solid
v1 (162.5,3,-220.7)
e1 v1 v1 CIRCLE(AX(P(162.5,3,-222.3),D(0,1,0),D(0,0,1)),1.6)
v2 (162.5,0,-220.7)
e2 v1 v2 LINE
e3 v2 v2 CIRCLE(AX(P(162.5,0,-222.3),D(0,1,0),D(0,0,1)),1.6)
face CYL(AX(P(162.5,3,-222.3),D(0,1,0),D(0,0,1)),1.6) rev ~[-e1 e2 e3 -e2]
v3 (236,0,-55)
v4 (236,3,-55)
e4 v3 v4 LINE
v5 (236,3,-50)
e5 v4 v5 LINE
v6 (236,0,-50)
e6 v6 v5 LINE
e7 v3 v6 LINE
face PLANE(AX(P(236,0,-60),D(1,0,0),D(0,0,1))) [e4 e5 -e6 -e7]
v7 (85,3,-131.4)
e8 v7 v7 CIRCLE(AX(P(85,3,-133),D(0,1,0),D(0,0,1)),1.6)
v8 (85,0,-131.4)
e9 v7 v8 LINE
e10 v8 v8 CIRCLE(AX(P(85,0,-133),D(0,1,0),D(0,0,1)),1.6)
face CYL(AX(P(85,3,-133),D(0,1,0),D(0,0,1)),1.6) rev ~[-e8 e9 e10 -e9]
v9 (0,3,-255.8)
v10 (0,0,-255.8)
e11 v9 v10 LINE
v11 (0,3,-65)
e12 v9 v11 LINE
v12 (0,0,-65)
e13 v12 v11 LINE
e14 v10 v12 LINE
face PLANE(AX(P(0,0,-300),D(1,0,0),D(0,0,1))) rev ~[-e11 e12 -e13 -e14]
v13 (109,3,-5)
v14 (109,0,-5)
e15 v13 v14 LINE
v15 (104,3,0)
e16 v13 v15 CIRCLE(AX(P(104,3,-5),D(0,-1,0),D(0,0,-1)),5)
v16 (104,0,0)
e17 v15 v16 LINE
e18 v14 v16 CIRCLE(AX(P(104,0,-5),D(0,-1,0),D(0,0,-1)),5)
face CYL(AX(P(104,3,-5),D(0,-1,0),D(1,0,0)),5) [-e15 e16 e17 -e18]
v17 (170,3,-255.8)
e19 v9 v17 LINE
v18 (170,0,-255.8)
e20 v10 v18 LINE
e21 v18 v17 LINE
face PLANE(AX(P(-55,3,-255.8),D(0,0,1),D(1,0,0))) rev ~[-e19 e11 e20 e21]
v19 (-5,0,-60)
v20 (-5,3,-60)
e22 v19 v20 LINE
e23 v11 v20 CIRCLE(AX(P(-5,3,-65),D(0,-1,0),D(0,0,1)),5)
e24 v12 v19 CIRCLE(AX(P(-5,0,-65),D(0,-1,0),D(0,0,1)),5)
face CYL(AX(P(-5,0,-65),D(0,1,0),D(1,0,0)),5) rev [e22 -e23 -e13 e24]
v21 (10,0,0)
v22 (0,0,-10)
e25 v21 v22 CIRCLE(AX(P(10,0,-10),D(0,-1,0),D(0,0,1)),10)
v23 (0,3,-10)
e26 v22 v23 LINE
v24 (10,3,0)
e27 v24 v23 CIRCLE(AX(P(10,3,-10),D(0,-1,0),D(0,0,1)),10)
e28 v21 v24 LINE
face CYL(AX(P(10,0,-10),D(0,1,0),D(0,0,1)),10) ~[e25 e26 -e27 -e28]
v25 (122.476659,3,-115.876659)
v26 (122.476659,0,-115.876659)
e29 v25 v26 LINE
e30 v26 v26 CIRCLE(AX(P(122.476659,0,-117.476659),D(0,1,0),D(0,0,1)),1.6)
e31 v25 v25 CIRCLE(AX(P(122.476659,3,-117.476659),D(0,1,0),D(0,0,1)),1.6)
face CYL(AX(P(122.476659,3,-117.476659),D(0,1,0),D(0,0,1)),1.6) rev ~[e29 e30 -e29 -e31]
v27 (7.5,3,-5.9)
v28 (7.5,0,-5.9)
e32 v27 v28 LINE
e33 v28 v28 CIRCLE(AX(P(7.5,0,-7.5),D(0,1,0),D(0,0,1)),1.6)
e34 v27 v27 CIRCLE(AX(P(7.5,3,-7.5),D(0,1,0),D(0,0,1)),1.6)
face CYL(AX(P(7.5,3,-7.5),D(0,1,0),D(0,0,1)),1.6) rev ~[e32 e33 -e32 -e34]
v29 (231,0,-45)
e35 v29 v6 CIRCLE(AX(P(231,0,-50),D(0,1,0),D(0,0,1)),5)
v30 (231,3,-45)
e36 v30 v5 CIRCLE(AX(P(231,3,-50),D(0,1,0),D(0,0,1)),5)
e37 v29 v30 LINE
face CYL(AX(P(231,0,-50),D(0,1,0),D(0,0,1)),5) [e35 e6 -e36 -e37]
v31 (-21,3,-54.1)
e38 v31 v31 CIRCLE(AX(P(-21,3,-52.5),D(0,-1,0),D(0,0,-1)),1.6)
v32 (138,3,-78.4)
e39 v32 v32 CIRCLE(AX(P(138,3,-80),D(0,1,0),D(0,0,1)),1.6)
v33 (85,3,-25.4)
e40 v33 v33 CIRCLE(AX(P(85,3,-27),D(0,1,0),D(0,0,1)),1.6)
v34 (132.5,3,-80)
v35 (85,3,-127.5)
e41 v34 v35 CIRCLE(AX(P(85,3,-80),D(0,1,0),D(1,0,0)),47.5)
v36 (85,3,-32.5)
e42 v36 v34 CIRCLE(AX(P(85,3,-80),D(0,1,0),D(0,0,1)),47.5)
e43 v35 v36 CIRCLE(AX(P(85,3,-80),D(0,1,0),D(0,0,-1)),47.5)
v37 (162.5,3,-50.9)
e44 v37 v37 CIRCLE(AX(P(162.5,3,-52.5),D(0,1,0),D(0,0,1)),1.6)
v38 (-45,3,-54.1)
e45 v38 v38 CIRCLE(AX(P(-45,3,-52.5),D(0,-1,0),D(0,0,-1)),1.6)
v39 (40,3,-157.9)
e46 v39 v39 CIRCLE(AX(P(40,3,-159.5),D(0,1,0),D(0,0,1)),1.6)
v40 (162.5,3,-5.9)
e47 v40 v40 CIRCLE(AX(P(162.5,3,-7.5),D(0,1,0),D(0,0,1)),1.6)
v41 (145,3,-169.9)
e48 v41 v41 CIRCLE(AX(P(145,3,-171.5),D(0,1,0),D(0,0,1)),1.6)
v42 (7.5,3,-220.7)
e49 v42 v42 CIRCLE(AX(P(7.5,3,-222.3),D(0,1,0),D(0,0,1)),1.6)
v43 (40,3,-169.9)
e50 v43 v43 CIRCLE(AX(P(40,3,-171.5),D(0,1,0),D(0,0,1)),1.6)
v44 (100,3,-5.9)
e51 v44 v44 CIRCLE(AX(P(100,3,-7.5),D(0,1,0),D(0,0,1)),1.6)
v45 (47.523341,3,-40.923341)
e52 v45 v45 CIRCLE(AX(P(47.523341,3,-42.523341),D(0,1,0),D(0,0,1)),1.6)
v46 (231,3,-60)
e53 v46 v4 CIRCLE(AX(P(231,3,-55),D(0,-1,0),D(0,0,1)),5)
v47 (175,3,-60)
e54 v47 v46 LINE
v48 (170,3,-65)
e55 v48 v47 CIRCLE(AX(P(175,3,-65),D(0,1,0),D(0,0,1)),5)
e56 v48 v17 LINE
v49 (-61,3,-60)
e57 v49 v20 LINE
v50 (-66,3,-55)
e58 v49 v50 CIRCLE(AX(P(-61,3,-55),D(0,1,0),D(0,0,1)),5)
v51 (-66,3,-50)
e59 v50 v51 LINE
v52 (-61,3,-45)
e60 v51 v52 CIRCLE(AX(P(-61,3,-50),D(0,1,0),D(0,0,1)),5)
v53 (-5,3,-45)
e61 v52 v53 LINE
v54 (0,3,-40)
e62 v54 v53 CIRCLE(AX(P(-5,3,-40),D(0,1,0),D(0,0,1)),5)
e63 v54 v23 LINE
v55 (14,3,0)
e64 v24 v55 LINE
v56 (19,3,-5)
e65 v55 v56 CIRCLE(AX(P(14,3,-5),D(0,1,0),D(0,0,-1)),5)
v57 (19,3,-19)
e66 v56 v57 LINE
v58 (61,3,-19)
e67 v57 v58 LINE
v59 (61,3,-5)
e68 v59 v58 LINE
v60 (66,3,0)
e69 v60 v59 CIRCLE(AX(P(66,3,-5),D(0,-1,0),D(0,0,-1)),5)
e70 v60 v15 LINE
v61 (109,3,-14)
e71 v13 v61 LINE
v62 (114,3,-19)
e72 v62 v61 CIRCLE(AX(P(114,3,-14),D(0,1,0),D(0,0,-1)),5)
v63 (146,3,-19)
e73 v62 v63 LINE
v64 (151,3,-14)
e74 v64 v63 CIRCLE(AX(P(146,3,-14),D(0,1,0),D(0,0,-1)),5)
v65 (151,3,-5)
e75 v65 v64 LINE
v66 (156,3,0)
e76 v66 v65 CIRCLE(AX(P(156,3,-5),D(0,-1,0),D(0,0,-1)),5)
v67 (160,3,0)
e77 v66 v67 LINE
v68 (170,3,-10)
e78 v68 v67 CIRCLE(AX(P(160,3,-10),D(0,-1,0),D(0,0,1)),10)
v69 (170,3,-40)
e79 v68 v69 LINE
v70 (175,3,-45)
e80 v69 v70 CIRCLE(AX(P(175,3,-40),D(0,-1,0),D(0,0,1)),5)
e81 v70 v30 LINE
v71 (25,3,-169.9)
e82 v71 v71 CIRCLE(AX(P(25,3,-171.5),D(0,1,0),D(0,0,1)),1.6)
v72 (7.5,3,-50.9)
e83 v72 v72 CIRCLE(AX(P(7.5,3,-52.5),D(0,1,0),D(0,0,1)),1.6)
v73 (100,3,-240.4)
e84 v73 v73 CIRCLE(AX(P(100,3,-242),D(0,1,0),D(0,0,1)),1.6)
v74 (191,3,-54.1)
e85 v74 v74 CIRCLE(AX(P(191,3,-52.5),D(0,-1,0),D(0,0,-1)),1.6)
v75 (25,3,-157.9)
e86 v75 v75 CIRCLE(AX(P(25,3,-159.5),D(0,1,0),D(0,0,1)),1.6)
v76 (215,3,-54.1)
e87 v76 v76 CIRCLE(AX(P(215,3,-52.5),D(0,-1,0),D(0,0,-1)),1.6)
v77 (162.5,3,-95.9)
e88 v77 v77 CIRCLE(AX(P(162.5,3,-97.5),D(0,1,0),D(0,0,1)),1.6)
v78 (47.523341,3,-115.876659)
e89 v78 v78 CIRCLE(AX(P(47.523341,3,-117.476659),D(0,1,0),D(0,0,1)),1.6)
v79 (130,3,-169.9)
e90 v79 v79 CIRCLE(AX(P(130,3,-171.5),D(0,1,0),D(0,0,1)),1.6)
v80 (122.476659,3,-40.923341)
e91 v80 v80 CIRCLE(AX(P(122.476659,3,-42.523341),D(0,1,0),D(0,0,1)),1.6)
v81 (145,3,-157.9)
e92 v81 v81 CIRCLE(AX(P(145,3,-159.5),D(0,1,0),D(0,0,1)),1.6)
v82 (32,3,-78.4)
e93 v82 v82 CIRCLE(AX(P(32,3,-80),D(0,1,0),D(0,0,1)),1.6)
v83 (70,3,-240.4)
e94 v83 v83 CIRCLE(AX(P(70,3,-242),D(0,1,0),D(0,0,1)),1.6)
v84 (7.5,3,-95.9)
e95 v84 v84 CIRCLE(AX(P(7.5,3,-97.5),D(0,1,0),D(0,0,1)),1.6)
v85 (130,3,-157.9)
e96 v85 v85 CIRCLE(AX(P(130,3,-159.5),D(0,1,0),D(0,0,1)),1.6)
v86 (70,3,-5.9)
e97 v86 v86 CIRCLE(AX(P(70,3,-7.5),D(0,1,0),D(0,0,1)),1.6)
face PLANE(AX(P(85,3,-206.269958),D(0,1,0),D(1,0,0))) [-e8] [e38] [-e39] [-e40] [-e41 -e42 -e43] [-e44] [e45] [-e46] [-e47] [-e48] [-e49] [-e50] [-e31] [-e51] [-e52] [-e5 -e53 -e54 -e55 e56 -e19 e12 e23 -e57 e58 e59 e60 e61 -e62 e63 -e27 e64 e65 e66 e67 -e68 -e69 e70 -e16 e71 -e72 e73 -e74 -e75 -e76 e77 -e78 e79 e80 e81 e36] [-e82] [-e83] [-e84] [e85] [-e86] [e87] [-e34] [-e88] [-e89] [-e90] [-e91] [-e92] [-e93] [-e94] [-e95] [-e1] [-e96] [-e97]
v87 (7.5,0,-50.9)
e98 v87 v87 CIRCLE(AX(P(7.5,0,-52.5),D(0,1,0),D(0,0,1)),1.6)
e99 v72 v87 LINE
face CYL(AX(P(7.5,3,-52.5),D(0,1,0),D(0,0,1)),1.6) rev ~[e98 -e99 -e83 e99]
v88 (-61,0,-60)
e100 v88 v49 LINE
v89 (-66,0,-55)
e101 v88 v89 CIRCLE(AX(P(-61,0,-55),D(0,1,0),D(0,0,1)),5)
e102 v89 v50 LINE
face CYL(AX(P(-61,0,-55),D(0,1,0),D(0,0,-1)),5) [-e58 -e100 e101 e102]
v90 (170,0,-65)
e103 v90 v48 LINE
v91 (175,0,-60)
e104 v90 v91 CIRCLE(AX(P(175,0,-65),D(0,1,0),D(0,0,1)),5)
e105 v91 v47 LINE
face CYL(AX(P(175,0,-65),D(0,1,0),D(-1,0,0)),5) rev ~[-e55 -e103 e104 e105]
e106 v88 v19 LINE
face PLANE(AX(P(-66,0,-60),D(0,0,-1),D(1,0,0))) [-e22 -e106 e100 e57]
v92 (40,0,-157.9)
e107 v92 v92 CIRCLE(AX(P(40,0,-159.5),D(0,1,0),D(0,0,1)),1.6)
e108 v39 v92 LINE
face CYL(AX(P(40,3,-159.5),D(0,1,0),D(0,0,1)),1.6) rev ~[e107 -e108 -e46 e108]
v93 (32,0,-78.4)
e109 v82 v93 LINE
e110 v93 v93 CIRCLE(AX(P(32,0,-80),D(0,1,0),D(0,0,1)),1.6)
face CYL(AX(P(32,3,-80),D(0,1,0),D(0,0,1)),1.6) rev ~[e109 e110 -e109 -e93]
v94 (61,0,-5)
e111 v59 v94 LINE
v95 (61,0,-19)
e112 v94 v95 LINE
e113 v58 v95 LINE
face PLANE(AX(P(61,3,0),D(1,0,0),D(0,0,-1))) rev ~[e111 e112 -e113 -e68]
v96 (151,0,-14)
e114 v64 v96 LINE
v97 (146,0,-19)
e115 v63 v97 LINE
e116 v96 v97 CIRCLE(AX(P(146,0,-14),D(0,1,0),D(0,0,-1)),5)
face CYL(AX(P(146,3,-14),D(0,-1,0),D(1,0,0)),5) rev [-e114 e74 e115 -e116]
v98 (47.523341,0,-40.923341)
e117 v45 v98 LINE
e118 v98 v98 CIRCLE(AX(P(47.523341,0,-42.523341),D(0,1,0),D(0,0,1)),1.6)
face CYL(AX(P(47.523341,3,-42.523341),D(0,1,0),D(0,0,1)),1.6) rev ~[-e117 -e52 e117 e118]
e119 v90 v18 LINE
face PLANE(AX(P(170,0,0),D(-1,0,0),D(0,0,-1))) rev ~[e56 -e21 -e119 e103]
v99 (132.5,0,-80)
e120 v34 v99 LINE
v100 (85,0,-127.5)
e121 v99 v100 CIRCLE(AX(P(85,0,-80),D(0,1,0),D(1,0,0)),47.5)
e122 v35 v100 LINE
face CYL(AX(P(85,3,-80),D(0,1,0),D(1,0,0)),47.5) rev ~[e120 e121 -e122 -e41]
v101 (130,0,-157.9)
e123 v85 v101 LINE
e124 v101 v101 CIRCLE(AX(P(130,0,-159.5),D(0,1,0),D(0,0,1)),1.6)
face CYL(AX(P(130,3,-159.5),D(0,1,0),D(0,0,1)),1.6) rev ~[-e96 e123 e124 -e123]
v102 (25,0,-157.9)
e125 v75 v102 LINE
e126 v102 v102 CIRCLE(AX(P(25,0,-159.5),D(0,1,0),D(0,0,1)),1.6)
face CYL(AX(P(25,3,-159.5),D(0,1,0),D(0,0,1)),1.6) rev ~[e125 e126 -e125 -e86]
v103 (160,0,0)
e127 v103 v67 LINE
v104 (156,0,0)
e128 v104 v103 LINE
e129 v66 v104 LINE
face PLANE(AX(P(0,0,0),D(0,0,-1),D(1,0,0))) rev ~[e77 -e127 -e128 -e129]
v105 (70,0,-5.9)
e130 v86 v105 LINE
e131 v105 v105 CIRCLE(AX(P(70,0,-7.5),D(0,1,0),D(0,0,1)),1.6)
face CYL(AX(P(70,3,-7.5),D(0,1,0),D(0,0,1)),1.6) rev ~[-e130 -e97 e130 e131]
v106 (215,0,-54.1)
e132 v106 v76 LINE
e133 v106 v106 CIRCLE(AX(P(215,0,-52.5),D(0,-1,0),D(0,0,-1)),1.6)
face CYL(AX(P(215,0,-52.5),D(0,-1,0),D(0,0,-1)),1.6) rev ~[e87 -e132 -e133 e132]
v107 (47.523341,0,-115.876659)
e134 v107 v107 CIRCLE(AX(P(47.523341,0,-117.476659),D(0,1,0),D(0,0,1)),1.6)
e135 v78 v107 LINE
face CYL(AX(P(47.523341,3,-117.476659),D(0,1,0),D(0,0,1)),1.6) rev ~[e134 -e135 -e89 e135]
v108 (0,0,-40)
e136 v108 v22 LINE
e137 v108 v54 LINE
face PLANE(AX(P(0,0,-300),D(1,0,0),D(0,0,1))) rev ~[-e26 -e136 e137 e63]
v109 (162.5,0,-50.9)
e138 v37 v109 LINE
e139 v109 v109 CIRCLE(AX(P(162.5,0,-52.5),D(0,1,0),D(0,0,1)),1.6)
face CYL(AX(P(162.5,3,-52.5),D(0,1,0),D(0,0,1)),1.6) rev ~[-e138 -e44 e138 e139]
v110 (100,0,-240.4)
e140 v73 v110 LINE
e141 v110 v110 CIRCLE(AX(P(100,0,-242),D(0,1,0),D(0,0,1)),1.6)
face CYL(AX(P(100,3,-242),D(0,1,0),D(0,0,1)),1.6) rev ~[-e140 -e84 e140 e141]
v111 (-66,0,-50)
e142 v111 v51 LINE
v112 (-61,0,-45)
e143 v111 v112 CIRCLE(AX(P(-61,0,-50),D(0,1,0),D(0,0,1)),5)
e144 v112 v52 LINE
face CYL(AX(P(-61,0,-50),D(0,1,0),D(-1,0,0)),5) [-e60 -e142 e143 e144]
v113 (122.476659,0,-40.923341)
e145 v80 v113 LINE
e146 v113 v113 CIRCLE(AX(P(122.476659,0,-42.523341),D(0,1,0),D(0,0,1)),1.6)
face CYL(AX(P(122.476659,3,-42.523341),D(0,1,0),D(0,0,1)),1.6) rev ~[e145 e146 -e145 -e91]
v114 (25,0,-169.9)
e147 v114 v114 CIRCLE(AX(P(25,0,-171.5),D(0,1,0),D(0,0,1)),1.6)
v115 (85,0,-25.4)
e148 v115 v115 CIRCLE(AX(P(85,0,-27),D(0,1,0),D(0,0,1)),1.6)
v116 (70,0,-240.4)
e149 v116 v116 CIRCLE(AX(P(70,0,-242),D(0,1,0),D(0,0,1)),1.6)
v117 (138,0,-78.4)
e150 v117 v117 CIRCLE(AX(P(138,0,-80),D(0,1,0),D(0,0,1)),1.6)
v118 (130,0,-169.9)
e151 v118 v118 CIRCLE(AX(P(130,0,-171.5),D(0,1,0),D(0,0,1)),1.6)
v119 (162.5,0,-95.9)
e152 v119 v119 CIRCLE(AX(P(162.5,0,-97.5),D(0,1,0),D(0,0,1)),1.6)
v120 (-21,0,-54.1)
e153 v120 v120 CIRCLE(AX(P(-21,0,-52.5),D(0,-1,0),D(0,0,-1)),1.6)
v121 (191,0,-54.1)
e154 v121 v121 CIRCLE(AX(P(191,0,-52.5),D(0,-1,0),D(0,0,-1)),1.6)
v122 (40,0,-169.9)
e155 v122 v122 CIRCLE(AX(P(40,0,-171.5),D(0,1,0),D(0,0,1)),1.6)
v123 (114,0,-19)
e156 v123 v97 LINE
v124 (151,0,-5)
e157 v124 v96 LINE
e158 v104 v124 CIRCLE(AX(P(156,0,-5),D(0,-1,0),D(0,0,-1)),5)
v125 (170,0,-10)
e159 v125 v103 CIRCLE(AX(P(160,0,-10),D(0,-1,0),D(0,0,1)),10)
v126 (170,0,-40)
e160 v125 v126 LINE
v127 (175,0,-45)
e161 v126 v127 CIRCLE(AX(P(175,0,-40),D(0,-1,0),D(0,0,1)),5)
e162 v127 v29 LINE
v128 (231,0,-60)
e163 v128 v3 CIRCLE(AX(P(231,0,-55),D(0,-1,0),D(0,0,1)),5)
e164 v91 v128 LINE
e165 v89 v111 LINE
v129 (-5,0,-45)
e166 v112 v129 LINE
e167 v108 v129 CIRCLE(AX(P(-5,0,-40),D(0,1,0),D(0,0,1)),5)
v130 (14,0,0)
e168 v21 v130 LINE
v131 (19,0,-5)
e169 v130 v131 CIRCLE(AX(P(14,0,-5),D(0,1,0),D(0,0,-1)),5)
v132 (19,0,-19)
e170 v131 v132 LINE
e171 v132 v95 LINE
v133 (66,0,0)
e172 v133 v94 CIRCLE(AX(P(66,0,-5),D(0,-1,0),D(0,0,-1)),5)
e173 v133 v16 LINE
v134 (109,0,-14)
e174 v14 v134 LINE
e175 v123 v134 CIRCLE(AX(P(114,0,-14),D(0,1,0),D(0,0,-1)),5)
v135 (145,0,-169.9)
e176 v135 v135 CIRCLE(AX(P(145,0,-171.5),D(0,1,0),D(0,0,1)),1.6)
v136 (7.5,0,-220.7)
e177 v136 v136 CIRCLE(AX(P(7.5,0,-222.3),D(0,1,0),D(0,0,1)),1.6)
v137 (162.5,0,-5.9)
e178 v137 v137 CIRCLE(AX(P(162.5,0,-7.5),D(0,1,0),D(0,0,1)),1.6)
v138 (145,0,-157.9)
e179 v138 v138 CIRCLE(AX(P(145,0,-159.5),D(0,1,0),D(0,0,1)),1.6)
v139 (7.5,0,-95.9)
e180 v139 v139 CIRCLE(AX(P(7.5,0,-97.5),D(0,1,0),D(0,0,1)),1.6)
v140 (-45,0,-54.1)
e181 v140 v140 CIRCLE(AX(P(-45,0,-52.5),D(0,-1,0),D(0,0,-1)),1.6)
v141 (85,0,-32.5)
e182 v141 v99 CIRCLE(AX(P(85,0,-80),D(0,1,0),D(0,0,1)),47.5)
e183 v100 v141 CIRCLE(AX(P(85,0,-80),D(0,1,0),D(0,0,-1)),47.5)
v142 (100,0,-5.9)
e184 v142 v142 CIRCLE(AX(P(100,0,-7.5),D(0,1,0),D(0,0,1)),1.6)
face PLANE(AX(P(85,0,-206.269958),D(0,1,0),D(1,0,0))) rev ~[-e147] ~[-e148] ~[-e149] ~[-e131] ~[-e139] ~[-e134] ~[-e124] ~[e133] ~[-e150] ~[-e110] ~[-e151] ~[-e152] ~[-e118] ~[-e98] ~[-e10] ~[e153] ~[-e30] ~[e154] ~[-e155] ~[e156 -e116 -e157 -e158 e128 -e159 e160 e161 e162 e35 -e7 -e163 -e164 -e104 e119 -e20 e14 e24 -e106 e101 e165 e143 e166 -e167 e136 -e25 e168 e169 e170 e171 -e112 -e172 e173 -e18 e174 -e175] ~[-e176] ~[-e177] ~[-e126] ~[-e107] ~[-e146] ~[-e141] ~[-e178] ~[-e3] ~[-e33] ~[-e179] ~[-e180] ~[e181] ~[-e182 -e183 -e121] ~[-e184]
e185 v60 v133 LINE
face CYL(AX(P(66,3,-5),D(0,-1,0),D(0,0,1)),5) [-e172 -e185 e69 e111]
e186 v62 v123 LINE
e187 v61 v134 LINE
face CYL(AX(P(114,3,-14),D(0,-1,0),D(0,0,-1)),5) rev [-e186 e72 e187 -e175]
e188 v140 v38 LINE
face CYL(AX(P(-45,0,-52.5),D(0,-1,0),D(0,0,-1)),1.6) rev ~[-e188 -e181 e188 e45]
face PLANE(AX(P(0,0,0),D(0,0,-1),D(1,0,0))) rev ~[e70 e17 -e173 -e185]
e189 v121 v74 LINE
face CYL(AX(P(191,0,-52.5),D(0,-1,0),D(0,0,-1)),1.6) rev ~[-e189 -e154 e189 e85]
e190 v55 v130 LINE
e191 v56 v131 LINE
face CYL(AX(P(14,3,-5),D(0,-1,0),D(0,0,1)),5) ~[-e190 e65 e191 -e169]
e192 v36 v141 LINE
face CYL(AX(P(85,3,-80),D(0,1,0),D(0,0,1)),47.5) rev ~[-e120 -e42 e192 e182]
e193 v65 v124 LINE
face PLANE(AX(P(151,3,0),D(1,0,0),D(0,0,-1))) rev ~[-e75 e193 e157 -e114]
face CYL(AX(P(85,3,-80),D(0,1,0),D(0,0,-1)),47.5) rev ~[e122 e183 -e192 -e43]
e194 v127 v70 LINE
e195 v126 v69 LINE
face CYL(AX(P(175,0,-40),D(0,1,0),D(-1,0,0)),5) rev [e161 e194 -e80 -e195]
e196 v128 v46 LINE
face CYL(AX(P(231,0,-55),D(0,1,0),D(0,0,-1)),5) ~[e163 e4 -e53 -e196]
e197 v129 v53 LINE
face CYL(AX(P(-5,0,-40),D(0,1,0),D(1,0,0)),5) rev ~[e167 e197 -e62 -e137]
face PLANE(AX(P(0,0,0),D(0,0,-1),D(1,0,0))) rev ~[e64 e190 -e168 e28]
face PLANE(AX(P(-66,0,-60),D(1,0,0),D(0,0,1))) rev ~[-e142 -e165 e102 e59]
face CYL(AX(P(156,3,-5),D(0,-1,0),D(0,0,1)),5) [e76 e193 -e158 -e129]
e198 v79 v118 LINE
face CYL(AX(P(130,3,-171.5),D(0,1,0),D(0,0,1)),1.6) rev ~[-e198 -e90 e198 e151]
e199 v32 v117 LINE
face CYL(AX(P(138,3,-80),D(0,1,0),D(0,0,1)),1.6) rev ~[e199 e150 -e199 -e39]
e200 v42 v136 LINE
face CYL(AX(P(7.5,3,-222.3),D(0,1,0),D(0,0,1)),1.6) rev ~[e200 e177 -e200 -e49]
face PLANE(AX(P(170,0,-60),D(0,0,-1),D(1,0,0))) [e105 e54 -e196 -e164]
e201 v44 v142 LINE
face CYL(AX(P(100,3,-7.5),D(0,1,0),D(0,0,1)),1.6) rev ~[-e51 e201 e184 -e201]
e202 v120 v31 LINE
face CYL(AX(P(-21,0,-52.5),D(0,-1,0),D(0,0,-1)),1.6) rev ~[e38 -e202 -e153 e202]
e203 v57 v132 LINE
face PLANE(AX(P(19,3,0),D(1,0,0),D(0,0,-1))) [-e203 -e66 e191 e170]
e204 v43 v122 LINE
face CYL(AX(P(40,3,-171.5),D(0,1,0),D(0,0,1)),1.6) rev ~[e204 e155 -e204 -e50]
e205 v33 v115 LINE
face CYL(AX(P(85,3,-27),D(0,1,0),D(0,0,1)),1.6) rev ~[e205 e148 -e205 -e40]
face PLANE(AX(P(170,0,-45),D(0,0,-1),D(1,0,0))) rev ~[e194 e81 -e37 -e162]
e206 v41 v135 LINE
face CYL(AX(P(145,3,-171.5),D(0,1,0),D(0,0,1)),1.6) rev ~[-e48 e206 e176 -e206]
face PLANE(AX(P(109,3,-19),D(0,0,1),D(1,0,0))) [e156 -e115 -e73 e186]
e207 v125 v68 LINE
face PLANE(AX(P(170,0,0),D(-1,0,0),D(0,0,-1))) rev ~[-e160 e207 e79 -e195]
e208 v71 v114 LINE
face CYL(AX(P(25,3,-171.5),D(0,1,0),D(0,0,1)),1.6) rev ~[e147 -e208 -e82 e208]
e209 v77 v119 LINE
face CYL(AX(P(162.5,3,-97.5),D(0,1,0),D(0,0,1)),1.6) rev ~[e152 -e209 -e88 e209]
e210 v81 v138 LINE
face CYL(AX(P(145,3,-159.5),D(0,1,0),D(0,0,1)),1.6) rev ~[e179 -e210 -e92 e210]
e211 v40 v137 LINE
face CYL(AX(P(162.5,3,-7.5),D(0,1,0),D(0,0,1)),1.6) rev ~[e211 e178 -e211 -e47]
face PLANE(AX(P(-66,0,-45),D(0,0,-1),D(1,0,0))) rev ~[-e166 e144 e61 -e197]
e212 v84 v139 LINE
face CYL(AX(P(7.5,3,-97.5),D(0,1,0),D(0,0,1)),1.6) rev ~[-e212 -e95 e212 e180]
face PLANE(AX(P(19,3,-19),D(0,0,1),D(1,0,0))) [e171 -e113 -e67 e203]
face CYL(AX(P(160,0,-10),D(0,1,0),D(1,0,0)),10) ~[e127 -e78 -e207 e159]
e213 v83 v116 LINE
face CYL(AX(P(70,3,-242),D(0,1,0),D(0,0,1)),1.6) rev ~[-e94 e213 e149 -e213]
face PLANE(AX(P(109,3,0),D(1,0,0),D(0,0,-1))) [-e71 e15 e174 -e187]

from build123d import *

# Parameters (mm, degrees)
BOSS_EXTRUDE1_DEPTH = 3
FILLET1_R           = 200
FILLET2_R           = 10
CUT_EXTRUDE2_DEPTH  = 429.345808882
SKETCH3_W           = 42
SKETCH3_H           = 23
SKETCH3_H_2         = 19
CUT_EXTRUDE3_DEPTH  = 429.345808882
SKETCH4_R           = 1.6
CUT_EXTRUDE5_DEPTH  = 429.345808882
SKETCH5_R           = 1.6
CUT_EXTRUDE6_DEPTH  = 429.345808882
SKETCH6_W           = 66
SKETCH6_H           = 15
SKETCH6_R           = 1.6
BOSS_EXTRUDE2_DEPTH = 3
FILLET3_R           = 5
SKETCH7_R           = 1.6
CUT_EXTRUDE7_DEPTH  = 435.224748243
SKETCH9_R           = 1.6
CUT_EXTRUDE8_DEPTH  = 435.224748243
SKETCH10_W          = 280
SKETCH10_H          = 108.680633212
CUT_EXTRUDE9_DEPTH  = 10


with BuildPart() as part:
    # Sketch1 → Boss-Extrude1 (new body)
    with BuildSketch(Plane(origin=(0, 0, 0), x_dir=(1, 0, 0), z_dir=(0, 1, 0))):
        Polygon((0, 0), (170, 0), (170, 300), (225, 300), (225, 367.51288694), (85, 330), (-55, 367.51288694), (-55, 300), (0, 300), align=None)
    extrude(amount=BOSS_EXTRUDE1_DEPTH)

    # Fillet1
    fillet1_edges = [part.edges().sort_by_distance(p)[0] for p in [
        (85, 1.5, -330),
    ]]
    fillet(fillet1_edges, radius=FILLET1_R)

    # Fillet2
    fillet2_edges = [part.edges().sort_by_distance(p)[0] for p in [
        (0, 1.5, -300),
        (-55, 1.5, -300),
        (-55, 1.5, -367.51288694),
        (225, 1.5, -367.51288694),
        (225, 1.5, -300),
        (170, 1.5, -300),
        (170, 1.5, 0),
        (0, 1.5, 0),
    ]]
    fillet(fillet2_edges, radius=FILLET2_R)

    # Sketch2 → Cut-Extrude2 (cut, through all)
    with BuildSketch(Plane(origin=(0, 3, 0), x_dir=(1, 0, 0), z_dir=(0, 1, 0))):
        with BuildLine():
            ThreePointArc((132.5, 80), (118.587572106, 113.587572106), (85, 127.5))
            Line((85, 127.5), (85, 32.5))
            ThreePointArc((85, 32.5), (118.587572106, 46.412427894), (132.5, 80))
        make_face()
        with BuildLine():
            Line((85, 32.5), (85, 127.5))
            ThreePointArc((85, 127.5), (37.5, 80), (85, 32.5))
        make_face()
    extrude(amount=-CUT_EXTRUDE2_DEPTH, mode=Mode.SUBTRACT)

    # Sketch3 → Cut-Extrude3 (cut, through all)
    with BuildSketch(Plane(origin=(0, 3, 0), x_dir=(1, 0, 0), z_dir=(0, 1, 0))):
        with Locations((40, 267.3)):
            Rectangle(SKETCH3_W, SKETCH3_H)
        with Locations((130, 267.3)):
            Rectangle(SKETCH3_W, SKETCH3_H)
        with Locations((40, 9.5)):
            Rectangle(SKETCH3_W, SKETCH3_H_2)
        with Locations((130, 9.5)):
            Rectangle(SKETCH3_W, SKETCH3_H_2)
    extrude(amount=-CUT_EXTRUDE3_DEPTH, mode=Mode.SUBTRACT)

    # Sketch4 → Cut-Extrude5 (cut, through all)
    with BuildSketch(Plane(origin=(0, 3, 0), x_dir=(1, 0, 0), z_dir=(0, 1, 0))):
        with Locations(Location((85, 133, 0), (0, 0, 270))):
            Circle(SKETCH4_R)
        with Locations(Location((122.476659403, 117.476659403, 0), (0, 0, 270))):
            Circle(SKETCH4_R)
        with Locations(Location((138, 80, 0), (0, 0, 270))):
            Circle(SKETCH4_R)
        with Locations(Location((122.476659403, 42.523340597, 0), (0, 0, 270))):
            Circle(SKETCH4_R)
        with Locations(Location((85, 27, 0), (0, 0, 270))):
            Circle(SKETCH4_R)
        with Locations(Location((47.523340597, 42.523340597, 0), (0, 0, 270))):
            Circle(SKETCH4_R)
        with Locations(Location((32, 80, 0), (0, 0, 270))):
            Circle(SKETCH4_R)
        with Locations(Location((47.523340597, 117.476659403, 0), (0, 0, 270))):
            Circle(SKETCH4_R)
    extrude(amount=-CUT_EXTRUDE5_DEPTH, mode=Mode.SUBTRACT)

    # Sketch5 → Cut-Extrude6 (cut, through all)
    with BuildSketch(Plane(origin=(0, 3, 0), x_dir=(1, 0, 0), z_dir=(0, 1, 0))):
        with Locations(Location((7.5, 312, 0), (0, 0, 270))):
            Circle(SKETCH5_R)
        with Locations(Location((7.5, 267.3, 0), (0, 0, 270))):
            Circle(SKETCH5_R)
        with Locations(Location((7.5, 222.3, 0), (0, 0, 270))):
            Circle(SKETCH5_R)
        with Locations(Location((7.5, 97.5, 0), (0, 0, 270))):
            Circle(SKETCH5_R)
        with Locations(Location((7.5, 7.5, 0), (0, 0, 270))):
            Circle(SKETCH5_R)
        with Locations(Location((7.5, 52.5, 0), (0, 0, 270))):
            Circle(SKETCH5_R)
        with Locations(Location((70, 7.5, 0), (0, 0, 270))):
            Circle(SKETCH5_R)
        with Locations(Location((100, 7.5, 0), (0, 0, 270))):
            Circle(SKETCH5_R)
        with Locations(Location((162.5, 7.5, 0), (0, 0, 270))):
            Circle(SKETCH5_R)
        with Locations(Location((162.5, 52.5, 0), (0, 0, 270))):
            Circle(SKETCH5_R)
        with Locations(Location((162.5, 97.5, 0), (0, 0, 270))):
            Circle(SKETCH5_R)
        with Locations(Location((162.5, 222.3, 0), (0, 0, 270))):
            Circle(SKETCH5_R)
        with Locations(Location((162.5, 267.3, 0), (0, 0, 270))):
            Circle(SKETCH5_R)
        with Locations(Location((162.5, 312, 0), (0, 0, 270))):
            Circle(SKETCH5_R)
        with Locations(Location((162.5, 342.75495241, 0), (0, 0, 270))):
            Circle(SKETCH5_R)
        with Locations(Location((109.337835254, 328.510193298, 0), (0, 0, 270))):
            Circle(SKETCH5_R)
        with Locations(Location((60.662164746, 328.510193298, 0), (0, 0, 270))):
            Circle(SKETCH5_R)
        with Locations(Location((7.5, 342.75495241, 0), (0, 0, 270))):
            Circle(SKETCH5_R)
        with Locations(Location((70, 267.5, 0), (0, 0, 270))):
            Circle(SKETCH5_R)
        with Locations(Location((100, 267.5, 0), (0, 0, 270))):
            Circle(SKETCH5_R)
    extrude(amount=-CUT_EXTRUDE6_DEPTH, mode=Mode.SUBTRACT)

    # Sketch6 → Boss-Extrude2 (add)
    # profile 1 of 2: a face of its own
    with BuildSketch(Plane.XZ):
        with Locations((-33, -52.5)):
            Rectangle(SKETCH6_W, SKETCH6_H)
        with Locations(Location((-45, -52.5, 0), (0, 0, 270))):
            Circle(SKETCH6_R, mode=Mode.SUBTRACT)
        with Locations(Location((-21, -52.5, 0), (0, 0, 270))):
            Circle(SKETCH6_R, mode=Mode.SUBTRACT)
    # profile 2 of 2: a face of its own
    with BuildSketch(Plane.XZ):
        with Locations((203, -52.5)):
            Rectangle(SKETCH6_W, SKETCH6_H)
        with Locations(Location((191, -52.5, 0), (0, 0, 270))):
            Circle(SKETCH6_R, mode=Mode.SUBTRACT)
        with Locations(Location((215, -52.5, 0), (0, 0, 270))):
            Circle(SKETCH6_R, mode=Mode.SUBTRACT)
    extrude(amount=-BOSS_EXTRUDE2_DEPTH)

    # Fillet3
    fillet3_edges = [part.edges().sort_by_distance(p)[0] for p in [
        (19, 1.5, 0),
        (61, 1.5, 0),
        (109, 1.5, 0),
        (109, 1.5, -19),
        (151, 1.5, -19),
        (151, 1.5, 0),
        (0, 1.5, -45),
        (0, 1.5, -60),
        (-66, 1.5, -60),
        (-66, 1.5, -45),
        (170, 1.5, -60),
        (170, 1.5, -45),
        (236, 1.5, -45),
        (236, 1.5, -60),
    ]]
    fillet(fillet3_edges, radius=FILLET3_R)

    # Sketch7 → Cut-Extrude7 (cut, through all)
    with BuildSketch(Plane(origin=(0, 3, 0), x_dir=(1, 0, 0), z_dir=(0, 1, 0))):
        with Locations(Location((130, 171.5, 0), (0, 0, 270))):
            Circle(SKETCH7_R)
        with Locations(Location((145, 171.5, 0), (0, 0, 270))):
            Circle(SKETCH7_R)
        with Locations(Location((145, 159.5, 0), (0, 0, 270))):
            Circle(SKETCH7_R)
        with Locations(Location((130, 159.5, 0), (0, 0, 270))):
            Circle(SKETCH7_R)
        with Locations(Location((25, 171.5, 0), (0, 0, 270))):
            Circle(SKETCH7_R)
        with Locations(Location((40, 171.5, 0), (0, 0, 270))):
            Circle(SKETCH7_R)
        with Locations(Location((40, 159.5, 0), (0, 0, 270))):
            Circle(SKETCH7_R)
        with Locations(Location((25, 159.5, 0), (0, 0, 270))):
            Circle(SKETCH7_R)
        with Locations(Location((70, 242, 0), (0, 0, 270))):
            Circle(SKETCH7_R)
        with Locations(Location((100, 242, 0), (0, 0, 270))):
            Circle(SKETCH7_R)
    extrude(amount=-CUT_EXTRUDE7_DEPTH, mode=Mode.SUBTRACT)

    # Sketch9 → Cut-Extrude8 (cut, through all)
    with BuildSketch(Plane(origin=(0, 3, 0), x_dir=(1, 0, 0), z_dir=(0, 1, 0))):
        with Locations(Location((-45, 307.5, 0), (0, 0, 270))):
            Circle(SKETCH9_R)
        with Locations(Location((-15, 307.5, 0), (0, 0, 270))):
            Circle(SKETCH9_R)
        with Locations(Location((-45, 327.5, 0), (0, 0, 270))):
            Circle(SKETCH9_R)
        with Locations(Location((-15, 327.5, 0), (0, 0, 270))):
            Circle(SKETCH9_R)
        with Locations(Location((185, 307.5, 0), (0, 0, 90))):
            Circle(SKETCH9_R)
        with Locations(Location((185, 327.5, 0), (0, 0, 90))):
            Circle(SKETCH9_R)
        with Locations(Location((215, 307.5, 0), (0, 0, 90))):
            Circle(SKETCH9_R)
        with Locations(Location((215, 327.5, 0), (0, 0, 90))):
            Circle(SKETCH9_R)
    extrude(amount=-CUT_EXTRUDE8_DEPTH, mode=Mode.SUBTRACT)

    # Sketch10 → Cut-Extrude9 (cut)
    with BuildSketch(Plane(origin=(0, 3, 0), x_dir=(1, 0, 0), z_dir=(0, 1, 0))):
        with Locations((85, 310.140316606)):
            Rectangle(SKETCH10_W, SKETCH10_H)
    extrude(amount=-CUT_EXTRUDE9_DEPTH, mode=Mode.SUBTRACT)


solid = part.part
